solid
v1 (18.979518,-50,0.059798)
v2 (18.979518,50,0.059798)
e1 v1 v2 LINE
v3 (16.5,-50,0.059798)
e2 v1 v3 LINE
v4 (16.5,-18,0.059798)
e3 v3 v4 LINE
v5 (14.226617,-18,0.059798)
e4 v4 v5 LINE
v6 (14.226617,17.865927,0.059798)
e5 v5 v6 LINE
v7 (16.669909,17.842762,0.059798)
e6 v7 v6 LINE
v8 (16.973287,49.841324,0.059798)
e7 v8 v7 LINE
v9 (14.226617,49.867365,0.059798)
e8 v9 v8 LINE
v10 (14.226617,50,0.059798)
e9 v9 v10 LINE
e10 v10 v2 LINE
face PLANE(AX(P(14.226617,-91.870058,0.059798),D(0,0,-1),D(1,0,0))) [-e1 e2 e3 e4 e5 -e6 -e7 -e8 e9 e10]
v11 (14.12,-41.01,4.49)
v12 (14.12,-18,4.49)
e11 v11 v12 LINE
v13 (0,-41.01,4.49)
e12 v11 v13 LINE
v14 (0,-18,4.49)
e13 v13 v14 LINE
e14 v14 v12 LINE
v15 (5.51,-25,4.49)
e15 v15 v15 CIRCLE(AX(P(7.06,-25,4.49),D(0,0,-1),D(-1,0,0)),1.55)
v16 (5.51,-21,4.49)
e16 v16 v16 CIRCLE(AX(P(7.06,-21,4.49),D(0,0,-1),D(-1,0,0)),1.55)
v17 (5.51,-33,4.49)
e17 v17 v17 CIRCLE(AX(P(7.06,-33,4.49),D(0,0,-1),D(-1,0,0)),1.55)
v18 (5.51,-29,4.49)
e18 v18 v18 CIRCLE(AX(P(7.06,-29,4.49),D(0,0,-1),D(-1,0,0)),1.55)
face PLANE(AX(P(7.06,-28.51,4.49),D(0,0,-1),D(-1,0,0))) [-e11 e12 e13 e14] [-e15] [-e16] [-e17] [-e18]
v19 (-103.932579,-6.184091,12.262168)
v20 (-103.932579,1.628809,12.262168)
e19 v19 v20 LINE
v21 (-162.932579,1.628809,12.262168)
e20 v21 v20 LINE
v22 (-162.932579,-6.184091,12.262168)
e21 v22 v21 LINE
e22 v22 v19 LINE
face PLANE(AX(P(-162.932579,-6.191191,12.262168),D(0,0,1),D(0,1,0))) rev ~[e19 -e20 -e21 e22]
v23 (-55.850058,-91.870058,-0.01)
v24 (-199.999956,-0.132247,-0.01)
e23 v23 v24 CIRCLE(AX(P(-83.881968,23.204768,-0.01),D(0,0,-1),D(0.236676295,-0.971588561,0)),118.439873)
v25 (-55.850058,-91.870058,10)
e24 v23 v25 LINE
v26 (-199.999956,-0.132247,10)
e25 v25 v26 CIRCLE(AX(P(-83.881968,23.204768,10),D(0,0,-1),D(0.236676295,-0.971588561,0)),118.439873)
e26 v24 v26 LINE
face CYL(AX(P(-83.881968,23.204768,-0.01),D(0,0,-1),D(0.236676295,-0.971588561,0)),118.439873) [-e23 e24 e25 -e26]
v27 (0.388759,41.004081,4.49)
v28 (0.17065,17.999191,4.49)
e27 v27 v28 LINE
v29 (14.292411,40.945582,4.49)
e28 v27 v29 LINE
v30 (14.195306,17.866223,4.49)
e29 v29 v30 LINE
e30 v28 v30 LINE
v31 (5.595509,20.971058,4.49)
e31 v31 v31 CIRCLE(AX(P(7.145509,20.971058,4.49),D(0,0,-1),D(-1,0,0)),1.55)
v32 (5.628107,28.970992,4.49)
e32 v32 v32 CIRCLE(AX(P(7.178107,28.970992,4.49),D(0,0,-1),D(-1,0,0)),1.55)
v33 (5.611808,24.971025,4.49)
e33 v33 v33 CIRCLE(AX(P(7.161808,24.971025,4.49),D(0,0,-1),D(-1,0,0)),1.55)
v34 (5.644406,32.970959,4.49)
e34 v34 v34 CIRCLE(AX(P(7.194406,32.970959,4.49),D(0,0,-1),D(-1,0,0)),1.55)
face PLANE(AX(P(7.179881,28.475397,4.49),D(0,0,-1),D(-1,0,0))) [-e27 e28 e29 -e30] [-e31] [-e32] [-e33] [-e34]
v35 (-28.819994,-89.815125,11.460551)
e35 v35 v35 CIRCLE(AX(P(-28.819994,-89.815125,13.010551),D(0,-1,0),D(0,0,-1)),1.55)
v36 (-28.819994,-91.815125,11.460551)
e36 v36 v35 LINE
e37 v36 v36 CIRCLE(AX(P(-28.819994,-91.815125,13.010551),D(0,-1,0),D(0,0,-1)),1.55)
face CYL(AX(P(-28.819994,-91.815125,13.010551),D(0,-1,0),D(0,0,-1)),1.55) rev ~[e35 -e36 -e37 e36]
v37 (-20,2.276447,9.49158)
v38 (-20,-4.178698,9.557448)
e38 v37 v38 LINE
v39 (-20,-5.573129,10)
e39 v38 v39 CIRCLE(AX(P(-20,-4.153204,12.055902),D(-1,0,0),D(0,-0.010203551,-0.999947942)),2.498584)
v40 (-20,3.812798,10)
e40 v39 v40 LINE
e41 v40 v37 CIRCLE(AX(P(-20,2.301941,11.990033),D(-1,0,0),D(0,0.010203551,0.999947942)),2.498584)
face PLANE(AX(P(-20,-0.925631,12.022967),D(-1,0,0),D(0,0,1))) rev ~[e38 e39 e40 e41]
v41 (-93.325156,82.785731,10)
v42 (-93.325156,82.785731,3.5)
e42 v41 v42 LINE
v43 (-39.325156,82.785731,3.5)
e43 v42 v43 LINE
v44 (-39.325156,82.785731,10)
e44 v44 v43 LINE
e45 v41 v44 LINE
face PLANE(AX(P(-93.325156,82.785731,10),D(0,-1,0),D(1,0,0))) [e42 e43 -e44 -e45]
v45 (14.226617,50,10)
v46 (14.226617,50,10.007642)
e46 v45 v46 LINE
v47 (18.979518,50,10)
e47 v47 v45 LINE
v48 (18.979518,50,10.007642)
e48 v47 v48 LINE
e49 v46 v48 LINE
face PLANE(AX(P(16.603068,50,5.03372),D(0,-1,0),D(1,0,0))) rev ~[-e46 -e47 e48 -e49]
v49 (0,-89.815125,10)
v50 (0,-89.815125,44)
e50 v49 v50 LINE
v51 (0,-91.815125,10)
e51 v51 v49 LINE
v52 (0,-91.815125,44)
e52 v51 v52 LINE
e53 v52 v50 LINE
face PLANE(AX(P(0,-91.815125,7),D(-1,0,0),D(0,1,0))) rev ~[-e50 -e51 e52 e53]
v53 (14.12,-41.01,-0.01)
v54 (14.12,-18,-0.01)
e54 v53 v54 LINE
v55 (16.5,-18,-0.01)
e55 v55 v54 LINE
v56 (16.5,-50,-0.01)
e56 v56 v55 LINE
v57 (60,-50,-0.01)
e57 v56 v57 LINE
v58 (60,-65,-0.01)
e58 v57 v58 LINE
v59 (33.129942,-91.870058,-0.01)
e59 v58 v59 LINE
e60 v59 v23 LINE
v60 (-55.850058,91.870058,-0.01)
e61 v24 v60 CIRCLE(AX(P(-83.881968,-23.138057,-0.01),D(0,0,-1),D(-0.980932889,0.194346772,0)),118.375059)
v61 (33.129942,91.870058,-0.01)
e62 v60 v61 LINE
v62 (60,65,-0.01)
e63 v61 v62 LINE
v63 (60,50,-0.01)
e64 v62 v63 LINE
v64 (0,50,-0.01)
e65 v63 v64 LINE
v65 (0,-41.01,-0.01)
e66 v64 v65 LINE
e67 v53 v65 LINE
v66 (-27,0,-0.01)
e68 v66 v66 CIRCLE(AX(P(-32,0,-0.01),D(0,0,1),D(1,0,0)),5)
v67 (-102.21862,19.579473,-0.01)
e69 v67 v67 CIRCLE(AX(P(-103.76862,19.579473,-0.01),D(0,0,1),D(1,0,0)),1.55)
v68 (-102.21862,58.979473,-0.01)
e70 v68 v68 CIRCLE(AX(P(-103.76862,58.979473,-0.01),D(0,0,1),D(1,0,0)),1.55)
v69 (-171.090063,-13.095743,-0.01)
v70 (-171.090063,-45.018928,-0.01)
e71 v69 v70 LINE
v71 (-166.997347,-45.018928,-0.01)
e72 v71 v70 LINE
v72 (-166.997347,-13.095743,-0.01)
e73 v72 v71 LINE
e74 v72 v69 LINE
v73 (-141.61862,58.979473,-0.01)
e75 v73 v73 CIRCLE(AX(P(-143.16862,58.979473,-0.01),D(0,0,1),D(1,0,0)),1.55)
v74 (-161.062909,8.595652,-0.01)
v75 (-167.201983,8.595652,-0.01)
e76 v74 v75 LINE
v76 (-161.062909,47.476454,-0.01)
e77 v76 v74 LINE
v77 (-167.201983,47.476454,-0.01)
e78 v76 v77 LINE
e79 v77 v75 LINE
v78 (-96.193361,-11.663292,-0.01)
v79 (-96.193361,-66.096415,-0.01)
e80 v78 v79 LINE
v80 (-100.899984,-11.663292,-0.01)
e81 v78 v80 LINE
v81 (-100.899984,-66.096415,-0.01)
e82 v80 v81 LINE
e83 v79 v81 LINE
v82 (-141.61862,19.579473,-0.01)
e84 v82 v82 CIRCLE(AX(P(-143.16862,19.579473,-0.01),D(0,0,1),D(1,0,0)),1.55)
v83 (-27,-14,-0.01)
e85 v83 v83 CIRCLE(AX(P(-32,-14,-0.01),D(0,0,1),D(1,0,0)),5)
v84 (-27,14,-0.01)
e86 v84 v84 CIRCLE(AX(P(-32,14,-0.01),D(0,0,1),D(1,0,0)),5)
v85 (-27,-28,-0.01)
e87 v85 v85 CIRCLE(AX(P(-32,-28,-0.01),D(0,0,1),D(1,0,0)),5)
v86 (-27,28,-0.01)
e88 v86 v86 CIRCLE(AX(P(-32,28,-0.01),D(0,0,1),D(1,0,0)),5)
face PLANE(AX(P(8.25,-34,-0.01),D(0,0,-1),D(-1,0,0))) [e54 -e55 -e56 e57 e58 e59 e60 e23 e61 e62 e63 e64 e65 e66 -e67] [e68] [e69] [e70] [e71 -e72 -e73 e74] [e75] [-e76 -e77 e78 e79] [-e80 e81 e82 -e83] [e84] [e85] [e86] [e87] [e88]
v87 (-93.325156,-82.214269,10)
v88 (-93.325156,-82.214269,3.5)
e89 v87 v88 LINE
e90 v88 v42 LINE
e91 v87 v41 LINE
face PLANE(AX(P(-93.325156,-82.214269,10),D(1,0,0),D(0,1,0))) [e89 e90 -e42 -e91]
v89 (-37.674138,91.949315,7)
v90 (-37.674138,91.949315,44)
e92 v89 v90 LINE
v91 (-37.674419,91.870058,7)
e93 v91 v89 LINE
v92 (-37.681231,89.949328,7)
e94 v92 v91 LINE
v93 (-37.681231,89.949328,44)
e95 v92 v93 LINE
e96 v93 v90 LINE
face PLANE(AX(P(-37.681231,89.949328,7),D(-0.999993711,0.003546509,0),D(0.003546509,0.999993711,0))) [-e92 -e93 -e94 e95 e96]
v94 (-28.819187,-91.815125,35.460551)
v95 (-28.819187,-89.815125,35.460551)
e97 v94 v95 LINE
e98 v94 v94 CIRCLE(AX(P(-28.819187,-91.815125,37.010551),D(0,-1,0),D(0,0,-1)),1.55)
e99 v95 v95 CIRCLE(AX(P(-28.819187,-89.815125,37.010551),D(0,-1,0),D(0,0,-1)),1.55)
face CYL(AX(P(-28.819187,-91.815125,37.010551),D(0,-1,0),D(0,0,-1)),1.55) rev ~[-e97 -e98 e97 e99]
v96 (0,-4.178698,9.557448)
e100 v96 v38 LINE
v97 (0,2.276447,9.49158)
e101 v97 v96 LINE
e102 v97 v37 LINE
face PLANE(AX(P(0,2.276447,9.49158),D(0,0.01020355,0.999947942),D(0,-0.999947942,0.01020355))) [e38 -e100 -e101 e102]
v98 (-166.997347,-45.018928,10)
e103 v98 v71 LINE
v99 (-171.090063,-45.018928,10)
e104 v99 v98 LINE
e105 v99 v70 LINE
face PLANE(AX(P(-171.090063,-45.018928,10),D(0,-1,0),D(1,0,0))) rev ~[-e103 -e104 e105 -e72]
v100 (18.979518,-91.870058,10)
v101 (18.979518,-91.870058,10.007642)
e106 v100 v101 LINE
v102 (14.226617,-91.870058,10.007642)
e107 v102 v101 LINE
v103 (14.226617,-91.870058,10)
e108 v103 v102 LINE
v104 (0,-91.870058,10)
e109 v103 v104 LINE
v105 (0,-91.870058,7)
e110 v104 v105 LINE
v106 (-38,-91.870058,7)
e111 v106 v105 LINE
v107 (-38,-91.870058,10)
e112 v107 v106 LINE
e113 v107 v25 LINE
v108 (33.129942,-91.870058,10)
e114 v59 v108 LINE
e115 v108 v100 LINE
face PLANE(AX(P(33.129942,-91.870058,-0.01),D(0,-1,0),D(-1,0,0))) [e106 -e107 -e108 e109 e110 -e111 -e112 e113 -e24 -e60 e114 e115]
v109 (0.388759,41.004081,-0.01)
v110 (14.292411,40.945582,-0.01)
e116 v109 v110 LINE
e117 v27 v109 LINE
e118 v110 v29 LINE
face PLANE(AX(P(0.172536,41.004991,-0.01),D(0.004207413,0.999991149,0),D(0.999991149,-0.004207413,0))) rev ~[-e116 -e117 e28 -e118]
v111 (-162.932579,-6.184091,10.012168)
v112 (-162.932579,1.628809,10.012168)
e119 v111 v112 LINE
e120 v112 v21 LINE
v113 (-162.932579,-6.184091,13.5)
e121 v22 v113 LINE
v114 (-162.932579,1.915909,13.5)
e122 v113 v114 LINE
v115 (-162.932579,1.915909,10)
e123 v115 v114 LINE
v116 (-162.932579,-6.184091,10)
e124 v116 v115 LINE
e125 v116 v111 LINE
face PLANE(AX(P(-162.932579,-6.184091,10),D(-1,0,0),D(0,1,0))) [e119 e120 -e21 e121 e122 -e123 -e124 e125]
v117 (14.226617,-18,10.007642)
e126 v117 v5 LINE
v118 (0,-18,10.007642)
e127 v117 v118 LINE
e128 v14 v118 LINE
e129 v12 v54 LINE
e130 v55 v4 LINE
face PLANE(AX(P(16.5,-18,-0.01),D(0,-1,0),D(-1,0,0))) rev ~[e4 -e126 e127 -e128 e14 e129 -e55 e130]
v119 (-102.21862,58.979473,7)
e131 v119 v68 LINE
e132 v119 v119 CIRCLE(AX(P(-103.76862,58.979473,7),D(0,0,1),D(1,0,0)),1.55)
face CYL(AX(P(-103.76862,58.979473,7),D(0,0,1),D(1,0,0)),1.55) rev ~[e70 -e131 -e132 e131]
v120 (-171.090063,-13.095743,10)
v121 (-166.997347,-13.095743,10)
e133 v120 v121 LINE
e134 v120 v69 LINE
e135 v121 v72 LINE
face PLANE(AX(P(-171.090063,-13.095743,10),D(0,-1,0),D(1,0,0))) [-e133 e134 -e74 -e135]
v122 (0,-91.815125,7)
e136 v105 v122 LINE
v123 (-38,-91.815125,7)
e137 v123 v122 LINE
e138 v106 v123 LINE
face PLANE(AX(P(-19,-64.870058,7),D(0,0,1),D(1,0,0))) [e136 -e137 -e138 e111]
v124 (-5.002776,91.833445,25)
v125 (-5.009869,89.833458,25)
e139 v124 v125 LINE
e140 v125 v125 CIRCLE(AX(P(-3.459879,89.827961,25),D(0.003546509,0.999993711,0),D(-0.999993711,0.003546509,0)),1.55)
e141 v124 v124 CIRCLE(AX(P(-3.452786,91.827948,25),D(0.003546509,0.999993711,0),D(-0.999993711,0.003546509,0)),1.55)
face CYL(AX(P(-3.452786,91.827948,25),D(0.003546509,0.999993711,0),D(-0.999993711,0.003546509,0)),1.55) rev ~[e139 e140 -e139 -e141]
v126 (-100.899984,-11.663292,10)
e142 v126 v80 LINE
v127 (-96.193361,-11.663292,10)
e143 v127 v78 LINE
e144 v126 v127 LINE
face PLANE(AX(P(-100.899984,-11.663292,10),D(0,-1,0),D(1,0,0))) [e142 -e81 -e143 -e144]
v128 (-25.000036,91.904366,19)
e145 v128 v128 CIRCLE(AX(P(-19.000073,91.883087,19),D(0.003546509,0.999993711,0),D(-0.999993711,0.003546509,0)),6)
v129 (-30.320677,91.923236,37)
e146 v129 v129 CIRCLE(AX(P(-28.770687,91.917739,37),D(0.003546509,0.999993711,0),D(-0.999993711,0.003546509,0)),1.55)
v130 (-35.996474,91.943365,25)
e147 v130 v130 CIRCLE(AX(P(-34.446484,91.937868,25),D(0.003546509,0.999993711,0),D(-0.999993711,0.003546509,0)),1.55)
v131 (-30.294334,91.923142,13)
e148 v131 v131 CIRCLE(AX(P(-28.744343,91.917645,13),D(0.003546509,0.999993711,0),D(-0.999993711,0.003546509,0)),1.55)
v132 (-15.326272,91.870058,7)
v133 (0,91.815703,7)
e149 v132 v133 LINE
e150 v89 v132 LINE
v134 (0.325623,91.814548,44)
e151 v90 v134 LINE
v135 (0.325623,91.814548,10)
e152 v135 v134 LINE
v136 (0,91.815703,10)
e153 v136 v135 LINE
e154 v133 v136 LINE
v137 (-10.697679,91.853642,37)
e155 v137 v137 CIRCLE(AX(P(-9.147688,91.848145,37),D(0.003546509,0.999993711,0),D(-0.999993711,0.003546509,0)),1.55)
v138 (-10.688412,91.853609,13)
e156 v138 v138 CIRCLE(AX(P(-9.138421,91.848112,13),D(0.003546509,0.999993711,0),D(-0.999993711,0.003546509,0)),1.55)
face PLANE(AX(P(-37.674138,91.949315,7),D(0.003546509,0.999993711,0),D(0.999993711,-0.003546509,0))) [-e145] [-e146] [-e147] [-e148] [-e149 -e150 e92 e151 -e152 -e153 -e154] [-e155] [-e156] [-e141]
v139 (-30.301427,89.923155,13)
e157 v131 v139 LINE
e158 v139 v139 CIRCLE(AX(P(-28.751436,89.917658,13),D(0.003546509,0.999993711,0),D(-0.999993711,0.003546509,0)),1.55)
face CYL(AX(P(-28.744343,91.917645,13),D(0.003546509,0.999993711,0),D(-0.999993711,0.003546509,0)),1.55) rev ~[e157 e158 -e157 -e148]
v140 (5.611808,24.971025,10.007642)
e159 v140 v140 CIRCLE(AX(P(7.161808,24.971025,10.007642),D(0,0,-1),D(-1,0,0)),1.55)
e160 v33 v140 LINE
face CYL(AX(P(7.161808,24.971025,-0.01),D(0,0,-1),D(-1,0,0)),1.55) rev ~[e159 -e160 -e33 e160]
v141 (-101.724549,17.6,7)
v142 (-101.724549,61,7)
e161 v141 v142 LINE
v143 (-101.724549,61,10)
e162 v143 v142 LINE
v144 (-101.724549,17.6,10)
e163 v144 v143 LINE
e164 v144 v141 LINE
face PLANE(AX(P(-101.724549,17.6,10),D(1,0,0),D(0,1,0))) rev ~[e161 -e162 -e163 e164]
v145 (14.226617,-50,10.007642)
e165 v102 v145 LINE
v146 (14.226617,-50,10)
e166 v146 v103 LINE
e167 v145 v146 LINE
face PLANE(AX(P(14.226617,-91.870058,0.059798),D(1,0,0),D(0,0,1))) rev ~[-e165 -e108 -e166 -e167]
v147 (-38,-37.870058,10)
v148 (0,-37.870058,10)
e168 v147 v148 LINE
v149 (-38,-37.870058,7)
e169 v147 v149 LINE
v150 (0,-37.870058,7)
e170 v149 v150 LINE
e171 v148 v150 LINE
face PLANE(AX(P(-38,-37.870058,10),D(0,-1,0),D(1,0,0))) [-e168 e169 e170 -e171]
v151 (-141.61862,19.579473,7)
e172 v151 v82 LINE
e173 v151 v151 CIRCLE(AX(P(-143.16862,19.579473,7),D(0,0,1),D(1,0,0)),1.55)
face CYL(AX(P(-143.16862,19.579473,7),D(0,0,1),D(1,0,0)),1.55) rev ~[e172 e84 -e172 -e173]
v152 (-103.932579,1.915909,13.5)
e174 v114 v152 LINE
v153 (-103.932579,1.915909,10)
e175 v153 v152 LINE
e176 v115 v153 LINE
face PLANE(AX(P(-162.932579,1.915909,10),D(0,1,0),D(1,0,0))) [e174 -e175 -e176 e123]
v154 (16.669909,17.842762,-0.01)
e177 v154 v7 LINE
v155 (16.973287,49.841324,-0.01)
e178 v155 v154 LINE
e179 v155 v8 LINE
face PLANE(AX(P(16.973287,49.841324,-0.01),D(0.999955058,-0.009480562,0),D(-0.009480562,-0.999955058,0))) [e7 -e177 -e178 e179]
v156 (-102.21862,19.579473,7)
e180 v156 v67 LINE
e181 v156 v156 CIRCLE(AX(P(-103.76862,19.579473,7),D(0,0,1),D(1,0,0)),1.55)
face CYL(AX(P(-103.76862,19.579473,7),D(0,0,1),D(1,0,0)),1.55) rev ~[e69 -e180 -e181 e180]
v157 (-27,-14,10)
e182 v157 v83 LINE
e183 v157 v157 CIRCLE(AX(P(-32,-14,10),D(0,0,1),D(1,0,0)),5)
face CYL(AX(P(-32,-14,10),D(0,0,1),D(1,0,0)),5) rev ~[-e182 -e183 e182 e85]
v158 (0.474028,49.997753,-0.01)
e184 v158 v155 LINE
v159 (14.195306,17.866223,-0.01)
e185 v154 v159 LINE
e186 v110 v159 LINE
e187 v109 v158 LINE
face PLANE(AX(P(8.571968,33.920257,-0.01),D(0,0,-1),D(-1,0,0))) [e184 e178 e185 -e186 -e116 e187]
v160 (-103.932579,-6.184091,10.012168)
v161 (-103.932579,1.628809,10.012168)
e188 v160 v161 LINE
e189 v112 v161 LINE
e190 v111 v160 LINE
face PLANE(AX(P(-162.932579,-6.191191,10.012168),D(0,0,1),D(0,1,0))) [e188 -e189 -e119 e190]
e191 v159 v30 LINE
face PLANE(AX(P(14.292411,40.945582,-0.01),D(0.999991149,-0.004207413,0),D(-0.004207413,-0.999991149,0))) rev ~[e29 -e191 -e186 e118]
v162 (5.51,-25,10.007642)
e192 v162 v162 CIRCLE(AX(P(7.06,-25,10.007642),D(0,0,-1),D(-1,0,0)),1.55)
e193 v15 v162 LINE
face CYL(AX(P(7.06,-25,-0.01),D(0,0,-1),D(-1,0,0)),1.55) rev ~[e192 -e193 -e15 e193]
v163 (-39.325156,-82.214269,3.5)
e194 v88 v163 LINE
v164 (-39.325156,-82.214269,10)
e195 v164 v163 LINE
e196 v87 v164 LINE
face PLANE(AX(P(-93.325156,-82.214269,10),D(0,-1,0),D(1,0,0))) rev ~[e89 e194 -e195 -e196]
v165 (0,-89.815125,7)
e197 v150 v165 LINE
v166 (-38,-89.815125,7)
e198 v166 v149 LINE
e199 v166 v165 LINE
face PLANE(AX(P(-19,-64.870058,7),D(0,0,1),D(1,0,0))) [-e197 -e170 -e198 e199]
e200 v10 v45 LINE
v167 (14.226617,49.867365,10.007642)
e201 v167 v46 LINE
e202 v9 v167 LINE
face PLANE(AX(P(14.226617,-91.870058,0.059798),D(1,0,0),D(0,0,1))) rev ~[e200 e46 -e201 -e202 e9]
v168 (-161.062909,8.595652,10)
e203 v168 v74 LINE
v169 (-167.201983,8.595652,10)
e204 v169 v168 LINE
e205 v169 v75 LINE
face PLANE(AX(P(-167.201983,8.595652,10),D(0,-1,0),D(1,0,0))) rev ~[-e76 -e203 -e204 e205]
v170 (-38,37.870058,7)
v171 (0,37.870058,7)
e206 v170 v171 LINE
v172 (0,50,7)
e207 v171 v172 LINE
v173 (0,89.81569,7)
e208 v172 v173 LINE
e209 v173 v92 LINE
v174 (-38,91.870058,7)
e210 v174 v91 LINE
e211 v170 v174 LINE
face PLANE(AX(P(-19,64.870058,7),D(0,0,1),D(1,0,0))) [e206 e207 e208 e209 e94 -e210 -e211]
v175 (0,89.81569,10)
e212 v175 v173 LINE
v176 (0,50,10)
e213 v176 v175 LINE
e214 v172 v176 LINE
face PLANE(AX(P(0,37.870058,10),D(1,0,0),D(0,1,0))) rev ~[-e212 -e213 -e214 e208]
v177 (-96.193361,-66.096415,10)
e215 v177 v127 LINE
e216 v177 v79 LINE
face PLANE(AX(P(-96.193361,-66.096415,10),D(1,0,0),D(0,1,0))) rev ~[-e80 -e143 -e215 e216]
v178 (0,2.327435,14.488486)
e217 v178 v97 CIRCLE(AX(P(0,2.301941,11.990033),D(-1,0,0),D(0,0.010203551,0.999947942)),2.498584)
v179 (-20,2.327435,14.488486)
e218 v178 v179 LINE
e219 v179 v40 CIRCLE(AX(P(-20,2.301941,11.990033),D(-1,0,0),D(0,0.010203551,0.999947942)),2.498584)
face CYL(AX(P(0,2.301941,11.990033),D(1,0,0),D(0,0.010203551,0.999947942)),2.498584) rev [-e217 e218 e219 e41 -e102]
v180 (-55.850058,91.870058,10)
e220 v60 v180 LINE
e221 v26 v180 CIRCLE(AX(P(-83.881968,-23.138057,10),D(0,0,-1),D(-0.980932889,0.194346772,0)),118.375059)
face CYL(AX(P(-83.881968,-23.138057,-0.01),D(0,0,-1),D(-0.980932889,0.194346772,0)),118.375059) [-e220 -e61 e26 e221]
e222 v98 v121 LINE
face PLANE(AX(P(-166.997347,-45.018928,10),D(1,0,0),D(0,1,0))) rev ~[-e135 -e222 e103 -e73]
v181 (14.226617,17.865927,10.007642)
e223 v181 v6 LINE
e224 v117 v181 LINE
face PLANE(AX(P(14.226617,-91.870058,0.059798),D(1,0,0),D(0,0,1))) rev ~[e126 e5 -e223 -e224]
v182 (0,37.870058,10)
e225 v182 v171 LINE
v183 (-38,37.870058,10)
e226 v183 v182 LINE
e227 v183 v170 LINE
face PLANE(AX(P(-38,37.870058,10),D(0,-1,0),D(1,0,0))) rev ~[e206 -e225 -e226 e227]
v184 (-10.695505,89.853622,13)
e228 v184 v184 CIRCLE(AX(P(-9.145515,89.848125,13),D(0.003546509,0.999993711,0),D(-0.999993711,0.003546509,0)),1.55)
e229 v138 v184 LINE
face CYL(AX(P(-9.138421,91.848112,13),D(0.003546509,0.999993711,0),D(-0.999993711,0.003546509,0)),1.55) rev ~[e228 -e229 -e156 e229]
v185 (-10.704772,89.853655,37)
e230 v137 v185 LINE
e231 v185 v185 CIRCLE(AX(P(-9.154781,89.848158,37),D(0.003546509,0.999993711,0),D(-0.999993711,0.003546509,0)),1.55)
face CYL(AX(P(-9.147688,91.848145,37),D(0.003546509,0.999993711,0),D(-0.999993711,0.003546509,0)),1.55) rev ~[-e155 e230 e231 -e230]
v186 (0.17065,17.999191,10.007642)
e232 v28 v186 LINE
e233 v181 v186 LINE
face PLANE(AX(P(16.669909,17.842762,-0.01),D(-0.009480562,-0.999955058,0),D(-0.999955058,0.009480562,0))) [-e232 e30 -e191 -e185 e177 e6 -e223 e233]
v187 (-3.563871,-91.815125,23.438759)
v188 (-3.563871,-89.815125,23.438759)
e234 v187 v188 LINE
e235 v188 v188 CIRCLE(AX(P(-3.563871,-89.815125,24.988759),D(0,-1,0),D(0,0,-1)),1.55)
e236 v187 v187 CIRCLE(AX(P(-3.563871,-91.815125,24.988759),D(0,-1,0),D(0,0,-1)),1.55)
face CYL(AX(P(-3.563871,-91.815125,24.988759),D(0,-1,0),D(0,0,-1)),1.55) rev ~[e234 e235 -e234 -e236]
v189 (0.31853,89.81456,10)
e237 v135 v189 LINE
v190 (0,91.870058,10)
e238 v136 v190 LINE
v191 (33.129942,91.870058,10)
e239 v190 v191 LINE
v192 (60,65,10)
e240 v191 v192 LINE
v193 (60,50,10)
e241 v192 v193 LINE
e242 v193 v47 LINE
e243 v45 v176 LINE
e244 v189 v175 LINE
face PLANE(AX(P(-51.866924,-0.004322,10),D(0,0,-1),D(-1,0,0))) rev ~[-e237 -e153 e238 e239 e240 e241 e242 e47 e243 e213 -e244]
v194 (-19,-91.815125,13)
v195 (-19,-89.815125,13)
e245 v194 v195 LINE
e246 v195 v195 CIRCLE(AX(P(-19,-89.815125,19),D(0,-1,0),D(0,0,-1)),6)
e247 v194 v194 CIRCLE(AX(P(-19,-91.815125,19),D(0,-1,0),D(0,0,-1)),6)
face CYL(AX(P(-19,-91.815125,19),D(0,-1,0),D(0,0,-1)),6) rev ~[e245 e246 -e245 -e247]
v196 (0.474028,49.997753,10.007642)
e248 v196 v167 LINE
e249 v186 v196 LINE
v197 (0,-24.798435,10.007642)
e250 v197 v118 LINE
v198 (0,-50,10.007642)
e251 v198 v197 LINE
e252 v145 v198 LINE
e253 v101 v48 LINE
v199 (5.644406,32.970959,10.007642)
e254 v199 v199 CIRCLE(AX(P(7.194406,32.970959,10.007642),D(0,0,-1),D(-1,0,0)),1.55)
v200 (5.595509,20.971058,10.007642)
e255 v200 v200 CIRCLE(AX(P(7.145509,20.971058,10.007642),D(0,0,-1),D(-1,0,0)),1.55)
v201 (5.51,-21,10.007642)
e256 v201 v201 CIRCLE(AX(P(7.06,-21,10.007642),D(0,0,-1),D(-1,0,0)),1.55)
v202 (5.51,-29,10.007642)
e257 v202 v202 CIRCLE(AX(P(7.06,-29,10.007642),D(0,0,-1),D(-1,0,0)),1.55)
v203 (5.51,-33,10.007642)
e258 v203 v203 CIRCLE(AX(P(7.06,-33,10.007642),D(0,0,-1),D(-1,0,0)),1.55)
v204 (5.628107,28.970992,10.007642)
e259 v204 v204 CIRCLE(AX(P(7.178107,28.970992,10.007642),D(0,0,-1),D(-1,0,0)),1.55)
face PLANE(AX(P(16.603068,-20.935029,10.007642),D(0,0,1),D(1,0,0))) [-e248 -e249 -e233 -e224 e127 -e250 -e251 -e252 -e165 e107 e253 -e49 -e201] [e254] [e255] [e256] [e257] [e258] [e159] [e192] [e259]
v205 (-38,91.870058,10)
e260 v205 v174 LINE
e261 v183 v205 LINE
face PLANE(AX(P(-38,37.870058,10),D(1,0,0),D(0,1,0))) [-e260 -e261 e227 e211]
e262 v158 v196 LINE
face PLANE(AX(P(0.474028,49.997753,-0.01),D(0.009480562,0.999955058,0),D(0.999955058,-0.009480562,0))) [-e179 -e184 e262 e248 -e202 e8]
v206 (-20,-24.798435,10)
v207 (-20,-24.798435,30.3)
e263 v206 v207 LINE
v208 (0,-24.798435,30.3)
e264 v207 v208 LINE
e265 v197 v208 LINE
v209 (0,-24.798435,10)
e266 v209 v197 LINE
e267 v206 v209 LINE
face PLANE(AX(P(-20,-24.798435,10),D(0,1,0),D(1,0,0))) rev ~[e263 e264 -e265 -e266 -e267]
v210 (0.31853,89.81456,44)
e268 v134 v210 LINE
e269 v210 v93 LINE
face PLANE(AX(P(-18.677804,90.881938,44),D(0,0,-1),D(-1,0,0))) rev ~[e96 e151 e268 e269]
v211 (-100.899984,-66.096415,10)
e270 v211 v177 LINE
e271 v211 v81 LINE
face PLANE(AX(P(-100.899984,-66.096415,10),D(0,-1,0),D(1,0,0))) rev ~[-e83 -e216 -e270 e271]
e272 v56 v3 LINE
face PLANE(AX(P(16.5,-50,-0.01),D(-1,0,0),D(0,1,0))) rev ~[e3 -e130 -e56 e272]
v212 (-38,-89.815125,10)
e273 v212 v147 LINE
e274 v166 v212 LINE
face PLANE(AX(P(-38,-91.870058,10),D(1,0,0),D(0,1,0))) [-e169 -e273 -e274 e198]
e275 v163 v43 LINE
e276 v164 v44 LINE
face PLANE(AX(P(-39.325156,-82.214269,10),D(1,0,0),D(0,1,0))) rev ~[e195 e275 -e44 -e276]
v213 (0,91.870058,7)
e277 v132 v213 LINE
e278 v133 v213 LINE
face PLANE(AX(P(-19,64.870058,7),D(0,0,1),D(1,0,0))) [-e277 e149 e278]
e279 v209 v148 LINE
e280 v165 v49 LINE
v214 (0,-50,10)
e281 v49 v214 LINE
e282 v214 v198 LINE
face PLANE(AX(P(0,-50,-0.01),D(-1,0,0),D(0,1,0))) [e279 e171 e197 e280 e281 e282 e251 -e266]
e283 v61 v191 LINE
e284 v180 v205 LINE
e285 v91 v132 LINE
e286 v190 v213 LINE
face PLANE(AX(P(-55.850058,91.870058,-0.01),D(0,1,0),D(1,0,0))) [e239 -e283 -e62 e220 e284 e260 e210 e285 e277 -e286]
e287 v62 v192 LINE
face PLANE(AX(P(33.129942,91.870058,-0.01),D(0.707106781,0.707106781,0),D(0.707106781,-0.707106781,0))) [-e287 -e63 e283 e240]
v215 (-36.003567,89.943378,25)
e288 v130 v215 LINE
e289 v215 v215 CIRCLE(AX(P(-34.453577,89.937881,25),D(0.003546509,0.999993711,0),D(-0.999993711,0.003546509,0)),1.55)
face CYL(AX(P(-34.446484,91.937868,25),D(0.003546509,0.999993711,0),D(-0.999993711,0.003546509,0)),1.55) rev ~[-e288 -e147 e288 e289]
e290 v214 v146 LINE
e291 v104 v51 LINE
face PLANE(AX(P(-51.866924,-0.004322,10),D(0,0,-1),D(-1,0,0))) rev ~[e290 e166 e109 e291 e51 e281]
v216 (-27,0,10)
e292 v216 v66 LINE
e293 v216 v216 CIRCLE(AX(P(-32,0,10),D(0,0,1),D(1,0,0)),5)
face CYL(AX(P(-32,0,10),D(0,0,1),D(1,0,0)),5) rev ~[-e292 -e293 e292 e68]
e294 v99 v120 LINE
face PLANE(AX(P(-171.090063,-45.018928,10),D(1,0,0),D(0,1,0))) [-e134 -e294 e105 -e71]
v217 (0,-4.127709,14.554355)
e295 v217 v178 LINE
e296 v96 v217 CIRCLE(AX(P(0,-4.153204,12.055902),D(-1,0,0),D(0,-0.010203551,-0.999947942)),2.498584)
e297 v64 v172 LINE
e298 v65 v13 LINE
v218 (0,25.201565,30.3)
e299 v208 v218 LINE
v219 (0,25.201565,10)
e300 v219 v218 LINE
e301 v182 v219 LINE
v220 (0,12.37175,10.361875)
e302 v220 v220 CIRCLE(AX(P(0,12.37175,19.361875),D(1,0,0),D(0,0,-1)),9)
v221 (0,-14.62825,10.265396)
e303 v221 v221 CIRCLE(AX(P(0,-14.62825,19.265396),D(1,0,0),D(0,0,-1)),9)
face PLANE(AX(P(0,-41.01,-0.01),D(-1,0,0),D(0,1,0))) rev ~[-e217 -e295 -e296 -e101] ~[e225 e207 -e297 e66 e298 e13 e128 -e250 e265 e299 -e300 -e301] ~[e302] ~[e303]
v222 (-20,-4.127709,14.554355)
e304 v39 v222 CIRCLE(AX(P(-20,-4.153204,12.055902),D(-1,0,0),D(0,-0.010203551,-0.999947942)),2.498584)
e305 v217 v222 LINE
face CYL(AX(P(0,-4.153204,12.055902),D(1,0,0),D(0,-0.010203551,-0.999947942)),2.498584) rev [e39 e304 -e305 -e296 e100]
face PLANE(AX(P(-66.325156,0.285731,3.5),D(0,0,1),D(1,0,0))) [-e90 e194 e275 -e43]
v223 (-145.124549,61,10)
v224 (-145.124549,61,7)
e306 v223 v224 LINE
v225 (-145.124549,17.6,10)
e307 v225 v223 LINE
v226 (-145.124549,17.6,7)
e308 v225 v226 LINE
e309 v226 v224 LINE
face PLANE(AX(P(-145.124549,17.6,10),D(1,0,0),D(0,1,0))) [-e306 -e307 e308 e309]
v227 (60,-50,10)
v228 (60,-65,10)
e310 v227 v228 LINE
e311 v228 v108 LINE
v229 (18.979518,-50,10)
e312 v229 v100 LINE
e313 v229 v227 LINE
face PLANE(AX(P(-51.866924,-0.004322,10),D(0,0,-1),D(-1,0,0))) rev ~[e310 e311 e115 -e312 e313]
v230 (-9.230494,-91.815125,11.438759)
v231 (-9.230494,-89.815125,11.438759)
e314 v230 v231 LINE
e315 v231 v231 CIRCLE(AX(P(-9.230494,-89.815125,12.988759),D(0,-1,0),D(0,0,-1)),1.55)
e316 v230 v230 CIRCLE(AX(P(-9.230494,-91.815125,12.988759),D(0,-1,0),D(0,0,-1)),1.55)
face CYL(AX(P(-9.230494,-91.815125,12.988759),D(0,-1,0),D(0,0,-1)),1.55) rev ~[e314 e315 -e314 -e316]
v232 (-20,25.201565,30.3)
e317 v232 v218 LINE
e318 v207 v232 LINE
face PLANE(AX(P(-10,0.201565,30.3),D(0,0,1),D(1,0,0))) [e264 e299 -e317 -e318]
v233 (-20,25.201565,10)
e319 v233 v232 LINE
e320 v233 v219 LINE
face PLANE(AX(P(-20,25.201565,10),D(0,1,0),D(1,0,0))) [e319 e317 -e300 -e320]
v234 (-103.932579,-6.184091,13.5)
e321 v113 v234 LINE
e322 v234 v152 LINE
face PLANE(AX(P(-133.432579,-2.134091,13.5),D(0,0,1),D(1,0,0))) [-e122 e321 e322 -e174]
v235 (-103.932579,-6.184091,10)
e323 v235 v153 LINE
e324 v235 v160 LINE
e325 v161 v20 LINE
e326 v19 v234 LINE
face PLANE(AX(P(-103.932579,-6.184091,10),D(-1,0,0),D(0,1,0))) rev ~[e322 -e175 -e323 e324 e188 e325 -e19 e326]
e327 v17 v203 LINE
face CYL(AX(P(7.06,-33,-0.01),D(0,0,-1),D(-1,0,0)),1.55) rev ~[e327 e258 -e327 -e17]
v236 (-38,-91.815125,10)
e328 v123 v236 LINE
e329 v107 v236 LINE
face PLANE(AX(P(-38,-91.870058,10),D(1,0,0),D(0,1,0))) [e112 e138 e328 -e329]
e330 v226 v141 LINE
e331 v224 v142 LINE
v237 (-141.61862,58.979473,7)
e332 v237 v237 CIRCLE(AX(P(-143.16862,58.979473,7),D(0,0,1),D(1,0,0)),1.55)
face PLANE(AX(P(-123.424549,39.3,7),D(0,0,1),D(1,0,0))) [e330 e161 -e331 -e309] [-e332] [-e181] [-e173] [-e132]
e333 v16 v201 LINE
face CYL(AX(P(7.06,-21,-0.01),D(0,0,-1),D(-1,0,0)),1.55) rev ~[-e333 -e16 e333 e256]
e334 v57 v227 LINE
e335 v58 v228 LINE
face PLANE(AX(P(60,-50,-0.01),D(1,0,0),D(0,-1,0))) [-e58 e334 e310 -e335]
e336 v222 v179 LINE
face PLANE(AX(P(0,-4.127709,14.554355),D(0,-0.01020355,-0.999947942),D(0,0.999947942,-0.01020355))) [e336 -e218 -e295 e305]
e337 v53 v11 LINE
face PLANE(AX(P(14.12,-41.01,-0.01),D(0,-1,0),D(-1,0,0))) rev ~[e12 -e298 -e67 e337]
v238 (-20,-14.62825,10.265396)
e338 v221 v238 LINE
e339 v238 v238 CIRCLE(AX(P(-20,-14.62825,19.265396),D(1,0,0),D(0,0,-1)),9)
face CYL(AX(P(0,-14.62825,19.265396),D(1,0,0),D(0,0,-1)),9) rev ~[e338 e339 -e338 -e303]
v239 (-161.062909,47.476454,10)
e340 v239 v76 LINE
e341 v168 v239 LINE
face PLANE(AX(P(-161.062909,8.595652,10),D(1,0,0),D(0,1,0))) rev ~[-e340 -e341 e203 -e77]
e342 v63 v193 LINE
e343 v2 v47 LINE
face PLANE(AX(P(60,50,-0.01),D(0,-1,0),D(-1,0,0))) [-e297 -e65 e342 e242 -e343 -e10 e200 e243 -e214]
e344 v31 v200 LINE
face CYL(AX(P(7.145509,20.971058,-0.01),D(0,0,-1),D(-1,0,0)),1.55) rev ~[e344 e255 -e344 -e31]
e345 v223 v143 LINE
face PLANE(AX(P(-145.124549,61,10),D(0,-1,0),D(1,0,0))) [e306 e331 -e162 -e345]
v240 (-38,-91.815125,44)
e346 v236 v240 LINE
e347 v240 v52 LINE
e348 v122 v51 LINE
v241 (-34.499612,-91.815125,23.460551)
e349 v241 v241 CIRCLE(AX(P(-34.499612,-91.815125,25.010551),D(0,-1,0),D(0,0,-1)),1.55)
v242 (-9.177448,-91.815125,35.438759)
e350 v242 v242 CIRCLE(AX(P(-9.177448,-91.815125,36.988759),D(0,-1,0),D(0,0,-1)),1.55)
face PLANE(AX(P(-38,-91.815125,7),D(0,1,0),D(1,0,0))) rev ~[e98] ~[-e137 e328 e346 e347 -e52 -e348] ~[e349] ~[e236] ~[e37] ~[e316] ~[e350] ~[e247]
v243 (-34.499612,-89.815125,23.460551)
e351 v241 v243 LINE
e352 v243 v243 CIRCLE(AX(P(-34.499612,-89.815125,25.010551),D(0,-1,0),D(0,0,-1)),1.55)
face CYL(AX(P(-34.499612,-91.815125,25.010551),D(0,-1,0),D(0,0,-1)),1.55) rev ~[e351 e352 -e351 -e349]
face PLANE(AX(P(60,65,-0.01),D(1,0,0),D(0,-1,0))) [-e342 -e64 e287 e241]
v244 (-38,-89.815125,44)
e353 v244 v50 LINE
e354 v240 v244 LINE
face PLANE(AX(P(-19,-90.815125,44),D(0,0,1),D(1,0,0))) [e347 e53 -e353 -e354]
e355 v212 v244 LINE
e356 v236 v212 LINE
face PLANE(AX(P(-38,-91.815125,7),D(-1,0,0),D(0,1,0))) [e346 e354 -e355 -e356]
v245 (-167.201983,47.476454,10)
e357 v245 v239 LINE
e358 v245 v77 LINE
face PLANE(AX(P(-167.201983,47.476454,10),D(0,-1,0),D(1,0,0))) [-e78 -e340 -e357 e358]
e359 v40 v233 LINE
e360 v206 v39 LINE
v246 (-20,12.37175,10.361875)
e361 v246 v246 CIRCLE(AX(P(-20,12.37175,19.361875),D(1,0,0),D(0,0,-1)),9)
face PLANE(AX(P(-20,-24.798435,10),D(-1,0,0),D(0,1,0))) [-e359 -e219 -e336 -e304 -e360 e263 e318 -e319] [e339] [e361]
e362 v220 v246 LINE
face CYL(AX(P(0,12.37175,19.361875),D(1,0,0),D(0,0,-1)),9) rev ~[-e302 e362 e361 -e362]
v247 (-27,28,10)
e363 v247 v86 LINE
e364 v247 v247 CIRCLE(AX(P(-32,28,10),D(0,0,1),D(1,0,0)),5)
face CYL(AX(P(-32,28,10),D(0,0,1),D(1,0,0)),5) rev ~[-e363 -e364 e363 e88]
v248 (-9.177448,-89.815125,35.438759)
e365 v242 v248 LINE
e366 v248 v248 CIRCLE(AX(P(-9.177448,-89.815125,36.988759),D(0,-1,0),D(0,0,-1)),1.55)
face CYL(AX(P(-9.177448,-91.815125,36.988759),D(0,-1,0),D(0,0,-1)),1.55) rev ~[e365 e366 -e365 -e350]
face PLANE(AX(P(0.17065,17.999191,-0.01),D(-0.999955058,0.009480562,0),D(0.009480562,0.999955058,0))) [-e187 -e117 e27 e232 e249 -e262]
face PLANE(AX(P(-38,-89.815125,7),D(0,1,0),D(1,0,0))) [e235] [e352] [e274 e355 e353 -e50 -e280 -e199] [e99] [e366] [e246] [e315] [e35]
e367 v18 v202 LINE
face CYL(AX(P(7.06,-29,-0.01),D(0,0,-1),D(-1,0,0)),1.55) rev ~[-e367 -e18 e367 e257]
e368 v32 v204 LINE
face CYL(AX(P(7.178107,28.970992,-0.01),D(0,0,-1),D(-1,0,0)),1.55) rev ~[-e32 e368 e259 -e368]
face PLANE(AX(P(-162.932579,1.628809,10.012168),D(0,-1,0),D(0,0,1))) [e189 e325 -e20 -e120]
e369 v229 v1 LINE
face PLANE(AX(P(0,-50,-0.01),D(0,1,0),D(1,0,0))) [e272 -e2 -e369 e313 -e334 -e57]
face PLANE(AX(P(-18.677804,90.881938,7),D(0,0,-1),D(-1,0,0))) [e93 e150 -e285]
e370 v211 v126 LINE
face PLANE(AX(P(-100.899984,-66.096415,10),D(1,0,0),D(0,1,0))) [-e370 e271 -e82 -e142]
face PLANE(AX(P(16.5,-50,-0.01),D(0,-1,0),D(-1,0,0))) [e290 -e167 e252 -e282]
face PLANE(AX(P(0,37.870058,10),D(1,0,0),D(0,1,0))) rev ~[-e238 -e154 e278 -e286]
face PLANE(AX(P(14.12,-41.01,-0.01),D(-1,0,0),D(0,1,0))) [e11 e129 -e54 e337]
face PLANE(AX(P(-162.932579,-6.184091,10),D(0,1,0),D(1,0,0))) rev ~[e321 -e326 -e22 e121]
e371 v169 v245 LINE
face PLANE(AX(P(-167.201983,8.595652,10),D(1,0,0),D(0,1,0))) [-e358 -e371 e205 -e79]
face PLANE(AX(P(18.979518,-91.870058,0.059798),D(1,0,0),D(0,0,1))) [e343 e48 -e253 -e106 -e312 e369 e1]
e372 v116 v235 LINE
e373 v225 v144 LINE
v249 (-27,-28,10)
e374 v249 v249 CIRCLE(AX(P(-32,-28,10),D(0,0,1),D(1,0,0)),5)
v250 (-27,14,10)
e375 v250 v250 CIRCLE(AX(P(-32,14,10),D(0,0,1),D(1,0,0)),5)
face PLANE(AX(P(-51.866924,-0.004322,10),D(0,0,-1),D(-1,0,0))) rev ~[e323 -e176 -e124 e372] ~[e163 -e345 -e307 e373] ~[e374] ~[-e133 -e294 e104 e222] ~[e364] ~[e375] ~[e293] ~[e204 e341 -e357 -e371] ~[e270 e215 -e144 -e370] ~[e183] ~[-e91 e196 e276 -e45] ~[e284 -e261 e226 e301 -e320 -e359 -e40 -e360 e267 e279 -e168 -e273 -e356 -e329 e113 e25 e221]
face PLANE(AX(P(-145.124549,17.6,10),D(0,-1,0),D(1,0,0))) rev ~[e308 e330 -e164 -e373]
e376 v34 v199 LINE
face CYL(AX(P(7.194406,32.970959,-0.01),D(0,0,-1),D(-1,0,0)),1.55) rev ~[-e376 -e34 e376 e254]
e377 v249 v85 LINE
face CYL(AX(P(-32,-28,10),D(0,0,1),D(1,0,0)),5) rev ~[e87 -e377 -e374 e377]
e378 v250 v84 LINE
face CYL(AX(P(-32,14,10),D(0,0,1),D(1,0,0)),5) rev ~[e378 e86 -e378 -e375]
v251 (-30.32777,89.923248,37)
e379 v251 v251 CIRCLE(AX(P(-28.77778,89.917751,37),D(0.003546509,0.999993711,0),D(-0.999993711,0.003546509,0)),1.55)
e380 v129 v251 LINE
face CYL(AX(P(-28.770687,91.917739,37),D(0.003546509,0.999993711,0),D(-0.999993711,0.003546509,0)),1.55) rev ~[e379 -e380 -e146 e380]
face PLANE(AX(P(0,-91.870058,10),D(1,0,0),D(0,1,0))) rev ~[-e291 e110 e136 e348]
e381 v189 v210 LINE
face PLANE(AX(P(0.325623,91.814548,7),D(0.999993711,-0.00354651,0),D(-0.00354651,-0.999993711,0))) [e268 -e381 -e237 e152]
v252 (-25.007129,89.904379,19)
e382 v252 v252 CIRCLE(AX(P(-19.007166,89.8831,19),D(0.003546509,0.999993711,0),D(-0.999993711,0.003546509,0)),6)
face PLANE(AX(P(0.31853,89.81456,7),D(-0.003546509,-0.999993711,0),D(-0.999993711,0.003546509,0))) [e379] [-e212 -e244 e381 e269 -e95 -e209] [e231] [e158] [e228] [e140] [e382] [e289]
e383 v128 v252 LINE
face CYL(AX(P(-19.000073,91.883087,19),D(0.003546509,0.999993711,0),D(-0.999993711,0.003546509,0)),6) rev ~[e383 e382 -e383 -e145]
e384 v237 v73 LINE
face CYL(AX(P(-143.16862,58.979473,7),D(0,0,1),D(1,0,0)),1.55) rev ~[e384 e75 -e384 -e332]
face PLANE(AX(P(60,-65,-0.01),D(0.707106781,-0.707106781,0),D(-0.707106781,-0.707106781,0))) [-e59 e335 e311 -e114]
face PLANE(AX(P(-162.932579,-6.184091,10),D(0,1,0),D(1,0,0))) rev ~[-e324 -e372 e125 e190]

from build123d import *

# Parameters (mm, degrees)
BOSS_EXTRUDE1_DEPTH      = 10
BOSS_EXTRUDE1_DEPTH_BACK = 0.01
SKETCH3_W                = 38
SKETCH3_H                = 54
CUT_EXTRUDE1_DEPTH       = 3
SKETCH5_W                = 38
SKETCH5_H                = 54
CUT_EXTRUDE3_DEPTH       = 3
SKETCH7_W                = 54
SKETCH7_H                = 165
CUT_EXTRUDE4_DEPTH       = 6.5
SKETCH15_W               = 20
SKETCH15_H               = 50
BOSS_EXTRUDE3_DEPTH      = 20.3
SKETCH18_W               = 43.4
SKETCH18_H               = 43.4
CUT_EXTRUDE18_DEPTH      = 3
SKETCH21_R               = 9
CUT_EXTRUDE21_DEPTH      = 20
SKETCH22_R               = 1.55
CUT_EXTRUDE23_DEPTH      = 223.739666272
SKETCH25_W               = 59
SKETCH25_H               = 8.1
BOSS_EXTRUDE5_DEPTH      = 3.5
SKETCH28_W               = 4.75290021
SKETCH28_H               = 9.947843747
BOSS_EXTRUDE6_DEPTH      = 141.870057685
SKETCH36_W               = 38
SKETCH36_H               = 2
BOSS_EXTRUDE7_DEPTH      = 37
SKETCH39_R               = 6
SKETCH39_R_2             = 1.55
CUT_EXTRUDE28_DEPTH      = 2
SKETCH42_R               = 6
SKETCH42_R_2             = 1.55
CUT_EXTRUDE29_DEPTH      = 2
SKETCH44_W               = 2.25
SKETCH44_H               = 7.82
CUT_EXTRUDE30_DEPTH      = 59
BOSS_EXTRUDE8_REACH      = 227.847
SKETCH45_W               = 16.5
SKETCH45_H               = 32
SKETCH30_W               = 14.12
SKETCH30_H               = 25
CUT_EXTRUDE25_DEPTH      = 4.5
SKETCH33_R               = 1.55
CUT_EXTRUDE26_DEPTH      = 10.017641697
SKETCH46_R               = 5
CUT_EXTRUDE31_DEPTH      = 225.11173314
SKETCH47_W               = 6.139074003
SKETCH47_H               = 38.880802014
SKETCH47_W_2             = 4.706623401
SKETCH47_H_2             = 54.433122819
SKETCH47_W_3             = 4.092716002
SKETCH47_H_3             = 31.923184811
CUT_EXTRUDE32_DEPTH      = 225.11173314


with BuildPart() as part:
    # Sketch1 → Boss-Extrude1 (new, two sides: drawn at the far end of the back side and taken through both)
    with BuildSketch(Plane.XY.offset(-BOSS_EXTRUDE1_DEPTH_BACK)):
        with BuildLine():
            Line((0, 0), (0, -50))
            Line((0, -50), (60, -50))
            Line((60, -50), (60, -65))
            Line((60, -65), (33.129942315, -91.870057685))
            Line((33.129942315, -91.870057685), (-55.850057685, -91.870057685))
            ThreePointArc((-55.850057685, -91.870057685), (-147.4724214, -76.71648961), (-199.999956277, -0.132246858))
            ThreePointArc((-199.999956277, -0.132246858), (-147.567879237, 76.64550452), (-55.850057685, 91.870057685))
            Line((-55.850057685, 91.870057685), (33.129942315, 91.870057685))
            Line((33.129942315, 91.870057685), (60, 65))
            Line((60, 65), (60, 50))
            Line((60, 50), (0, 50))
            Line((0, 50), (0, 0))
        make_face()
    extrude(amount=BOSS_EXTRUDE1_DEPTH + BOSS_EXTRUDE1_DEPTH_BACK)

    # Sketch3 → Cut-Extrude1 (cut)
    with BuildSketch(Plane.XY.offset(10)):
        with Locations((-19, 64.870057685)):
            Rectangle(SKETCH3_W, SKETCH3_H)
    extrude(amount=-CUT_EXTRUDE1_DEPTH, mode=Mode.SUBTRACT)

    # Sketch5 → Cut-Extrude3 (cut)
    with BuildSketch(Plane.XY.offset(10)):
        with Locations((-19, -64.870057685)):
            Rectangle(SKETCH5_W, SKETCH5_H)
    extrude(amount=-CUT_EXTRUDE3_DEPTH, mode=Mode.SUBTRACT)

    # Sketch7 → Cut-Extrude4 (cut)
    with BuildSketch(Plane.XY.offset(10)):
        with Locations((-66.32515636, 0.28573122)):
            Rectangle(SKETCH7_W, SKETCH7_H)
    extrude(amount=-CUT_EXTRUDE4_DEPTH, mode=Mode.SUBTRACT)

    # Sketch15 → Boss-Extrude3 (add)
    with BuildSketch(Plane.XY.offset(10)):
        with Locations((-10, 0.20156489)):
            Rectangle(SKETCH15_W, SKETCH15_H)
    extrude(amount=BOSS_EXTRUDE3_DEPTH)

    # Sketch18 → Cut-Extrude18 (cut)
    with BuildSketch(Plane.XY.offset(10)):
        with Locations((-123.42454895, 39.3)):
            Rectangle(SKETCH18_W, SKETCH18_H)
    extrude(amount=-CUT_EXTRUDE18_DEPTH, mode=Mode.SUBTRACT)

    # Sketch21 → Cut-Extrude21 (cut)
    with BuildSketch(Plane(origin=(0, 0, 0), x_dir=(0, 0, -1), z_dir=(1, 0, 0))):
        with Locations((-19.36187505, 12.37175029)):
            Circle(SKETCH21_R)
        with Locations((-19.26539558, -14.62824971)):
            Circle(SKETCH21_R)
        with BuildLine():
            Line((-9.491579533, 2.276446619), (-9.557448357, -4.178698144))
            ThreePointArc((-9.557448357, -4.178698144), (-12.081396215, -6.651657156), (-14.554355227, -4.127709299))
            Line((-14.554355227, -4.127709299), (-14.488486403, 2.327435464))
            ThreePointArc((-14.488486403, 2.327435464), (-11.964538545, 4.800394476), (-9.491579533, 2.276446619))
        make_face()
    extrude(amount=-CUT_EXTRUDE21_DEPTH, mode=Mode.SUBTRACT)

    # Sketch22 → Cut-Extrude23 (cut, through all)
    with BuildSketch(Plane.XY.offset(7)):
        with Locations((-143.16862044, 58.97947337)):
            Circle(SKETCH22_R)
        with Locations((-103.76862044, 58.97947337)):
            Circle(SKETCH22_R)
        with Locations((-103.76862044, 19.57947337)):
            Circle(SKETCH22_R)
        with Locations((-143.16862044, 19.57947337)):
            Circle(SKETCH22_R)
    extrude(amount=-CUT_EXTRUDE23_DEPTH, mode=Mode.SUBTRACT)

    # Sketch25 → Boss-Extrude5 (add)
    with BuildSketch(Plane.XY.offset(10)):
        with Locations((-133.432578579, -2.134090808)):
            Rectangle(SKETCH25_W, SKETCH25_H)
    extrude(amount=BOSS_EXTRUDE5_DEPTH)

    # Sketch28 → Boss-Extrude6 (add)
    with BuildSketch(Plane.XZ.offset(91.870057685)):
        with Locations((16.603067585, 5.033719824)):
            Rectangle(SKETCH28_W, SKETCH28_H)
    extrude(amount=-BOSS_EXTRUDE6_DEPTH)

    # Sketch36 → Boss-Extrude7 (add)
    with BuildSketch(Plane.XY.offset(7)):
        Polygon((0.325623195, 91.814547745), (0.318530176, 89.814560323), (-37.681230846, 89.949327676), (-37.674137828, 91.949315098), align=None)
        with Locations((-19, -90.81512516)):
            Rectangle(SKETCH36_W, SKETCH36_H)
    extrude(amount=BOSS_EXTRUDE7_DEPTH)

    # Sketch39 → Cut-Extrude28 (cut)
    with BuildSketch(Plane.XZ.offset(91.81512516)):
        with Locations(Location((-19, 19, 0), (0, 0, 270))):
            Circle(SKETCH39_R)
        with Locations(Location((-34.499611559, 25.01055106, 0), (0, 0, 270))):
            Circle(SKETCH39_R_2)
        with Locations(Location((-3.563871147, 24.988758691, 0), (0, 0, 270))):
            Circle(SKETCH39_R_2)
        with Locations(Location((-28.819186805, 37.01055106, 0), (0, 0, 270))):
            Circle(SKETCH39_R_2)
        with Locations(Location((-9.177448314, 36.988758691, 0), (0, 0, 270))):
            Circle(SKETCH39_R_2)
        with Locations(Location((-28.819994175, 13.01055106, 0), (0, 0, 270))):
            Circle(SKETCH39_R_2)
        with Locations(Location((-9.230494356, 12.988758691, 0), (0, 0, 270))):
            Circle(SKETCH39_R_2)
    extrude(amount=-CUT_EXTRUDE28_DEPTH, mode=Mode.SUBTRACT)

    # Sketch42 → Cut-Extrude29 (cut)
    with BuildSketch(Plane(origin=(0.325623195, 91.814547745, 0), x_dir=(0.9999937111161443, -0.003546509292438372, 0), z_dir=(0.003546509292438372, 0.9999937111161443, 0))):
        with Locations(Location((-19.325818013, -19, 0), (0, 0, 180))):
            Circle(SKETCH42_R)
        with Locations(Location((-29.070149337, -13, 0), (0, 0, 180))):
            Circle(SKETCH42_R_2)
        with Locations(Location((-3.778432466, -25, 0), (0, 0, 180))):
            Circle(SKETCH42_R_2)
        with Locations(Location((-9.464104196, -13, 0), (0, 0, 180))):
            Circle(SKETCH42_R_2)
        with Locations(Location((-34.772326096, -25, 0), (0, 0, 180))):
            Circle(SKETCH42_R_2)
        with Locations(Location((-29.096493177, -37, 0), (0, 0, 180))):
            Circle(SKETCH42_R_2)
        with Locations(Location((-9.473371075, -37, 0), (0, 0, 180))):
            Circle(SKETCH42_R_2)
    extrude(amount=-CUT_EXTRUDE29_DEPTH, mode=Mode.SUBTRACT)

    # Sketch44 → Cut-Extrude30 (cut)
    with BuildSketch(Plane.ZY.offset(162.932578579)):
        with Locations((11.13716849, -2.28119145)):
            Rectangle(SKETCH44_W, SKETCH44_H)
    extrude(amount=-CUT_EXTRUDE30_DEPTH, mode=Mode.SUBTRACT)

    # Boss-Extrude8: up to this face of the body (flat: up to its plane)
    boss_extrude8_end = Plane(part.part.faces().sort_by_distance((16.603067585, -20.935028843, 10.007641697))[0])
    # Sketch45 → Boss-Extrude8 (add, up to the picked face)
    with BuildSketch(Plane(origin=(0, 0, -0.01), x_dir=(-1, 0, 0), z_dir=(0, 0, -1)), mode=Mode.PRIVATE) as boss_extrude8_sk1:
        Polygon((-0.170650113, 17.999191052), (-0.474028092, 49.997752923), (-16.973286556, 49.841323653), (-16.669908578, 17.842761782), align=None)
    boss_extrude8_tool1 = split(extrude(boss_extrude8_sk1.sketch, amount=-BOSS_EXTRUDE8_REACH, mode=Mode.PRIVATE), bisect_by=boss_extrude8_end, keep=Keep.BOTH, mode=Mode.PRIVATE)
    # Sketch45 → Boss-Extrude8 (add, up to the picked face)
    with BuildSketch(Plane(origin=(0, 0, -0.01), x_dir=(-1, 0, 0), z_dir=(0, 0, -1)), mode=Mode.PRIVATE) as boss_extrude8_sk2:
        with Locations((-8.25, -34)):
            Rectangle(SKETCH45_W, SKETCH45_H)
    boss_extrude8_tool2 = split(extrude(boss_extrude8_sk2.sketch, amount=-BOSS_EXTRUDE8_REACH, mode=Mode.PRIVATE), bisect_by=boss_extrude8_end, keep=Keep.BOTH, mode=Mode.PRIVATE)
    add(boss_extrude8_tool1.solids().sort_by(Axis((8.571968, 33.920257, -0.01), (0, 0, 1)))[0])
    add(boss_extrude8_tool2.solids().sort_by(Axis((8.25, -34, -0.01), (0, 0, 1)))[0])

    # Sketch30 → Cut-Extrude25 (cut)
    with BuildSketch(Plane(origin=(0, 0, -0.01), x_dir=(-1, 0, 0), z_dir=(0, 0, -1))):
        with Locations((-7.06, -28.51)):
            Rectangle(SKETCH30_W, SKETCH30_H)
        Polygon((-14.292411252, 40.945582253), (-14.187225928, 15.945803533), (-0.067350907, 16.005212204), (-0.172536231, 41.004990924), align=None)
    extrude(amount=-CUT_EXTRUDE25_DEPTH, mode=Mode.SUBTRACT)

    # Sketch33 → Cut-Extrude26 (cut)
    with BuildSketch(Plane(origin=(0, 0, -0.01), x_dir=(-1, 0, 0), z_dir=(0, 0, -1))):
        with Locations((-7.06, -33)):
            Circle(SKETCH33_R)
        with Locations((-7.06, -29)):
            Circle(SKETCH33_R)
        with Locations((-7.06, -25)):
            Circle(SKETCH33_R)
        with Locations((-7.06, -21)):
            Circle(SKETCH33_R)
        with Locations((-7.145509491, 20.971058488)):
            Circle(SKETCH33_R)
        with Locations((-7.161808177, 24.971025282)):
            Circle(SKETCH33_R)
        with Locations((-7.178106862, 28.970992076)):
            Circle(SKETCH33_R)
        with Locations((-7.194405548, 32.97095887)):
            Circle(SKETCH33_R)
    extrude(amount=-CUT_EXTRUDE26_DEPTH, mode=Mode.SUBTRACT)

    # Sketch46 → Cut-Extrude31 (cut, through all)
    with BuildSketch(Plane.XY.offset(10)):
        with Locations((-32, 28)):
            Circle(SKETCH46_R)
        with Locations((-32, 14)):
            Circle(SKETCH46_R)
        with Locations((-32, 0)):
            Circle(SKETCH46_R)
        with Locations((-32, -14)):
            Circle(SKETCH46_R)
        with Locations((-32, -28)):
            Circle(SKETCH46_R)
    extrude(amount=-CUT_EXTRUDE31_DEPTH, mode=Mode.SUBTRACT)

    # Sketch47 → Cut-Extrude32 (cut, through all)
    with BuildSketch(Plane.XY.offset(10)):
        with Locations((-164.132446172, 28.036052806)):
            Rectangle(SKETCH47_W, SKETCH47_H)
        with Locations((-98.546672249, -38.879853818)):
            Rectangle(SKETCH47_W_2, SKETCH47_H_2)
        with Locations((-169.043705373, -29.057335414)):
            Rectangle(SKETCH47_W_3, SKETCH47_H_3)
    extrude(amount=-CUT_EXTRUDE32_DEPTH, mode=Mode.SUBTRACT)


solid = part.part
